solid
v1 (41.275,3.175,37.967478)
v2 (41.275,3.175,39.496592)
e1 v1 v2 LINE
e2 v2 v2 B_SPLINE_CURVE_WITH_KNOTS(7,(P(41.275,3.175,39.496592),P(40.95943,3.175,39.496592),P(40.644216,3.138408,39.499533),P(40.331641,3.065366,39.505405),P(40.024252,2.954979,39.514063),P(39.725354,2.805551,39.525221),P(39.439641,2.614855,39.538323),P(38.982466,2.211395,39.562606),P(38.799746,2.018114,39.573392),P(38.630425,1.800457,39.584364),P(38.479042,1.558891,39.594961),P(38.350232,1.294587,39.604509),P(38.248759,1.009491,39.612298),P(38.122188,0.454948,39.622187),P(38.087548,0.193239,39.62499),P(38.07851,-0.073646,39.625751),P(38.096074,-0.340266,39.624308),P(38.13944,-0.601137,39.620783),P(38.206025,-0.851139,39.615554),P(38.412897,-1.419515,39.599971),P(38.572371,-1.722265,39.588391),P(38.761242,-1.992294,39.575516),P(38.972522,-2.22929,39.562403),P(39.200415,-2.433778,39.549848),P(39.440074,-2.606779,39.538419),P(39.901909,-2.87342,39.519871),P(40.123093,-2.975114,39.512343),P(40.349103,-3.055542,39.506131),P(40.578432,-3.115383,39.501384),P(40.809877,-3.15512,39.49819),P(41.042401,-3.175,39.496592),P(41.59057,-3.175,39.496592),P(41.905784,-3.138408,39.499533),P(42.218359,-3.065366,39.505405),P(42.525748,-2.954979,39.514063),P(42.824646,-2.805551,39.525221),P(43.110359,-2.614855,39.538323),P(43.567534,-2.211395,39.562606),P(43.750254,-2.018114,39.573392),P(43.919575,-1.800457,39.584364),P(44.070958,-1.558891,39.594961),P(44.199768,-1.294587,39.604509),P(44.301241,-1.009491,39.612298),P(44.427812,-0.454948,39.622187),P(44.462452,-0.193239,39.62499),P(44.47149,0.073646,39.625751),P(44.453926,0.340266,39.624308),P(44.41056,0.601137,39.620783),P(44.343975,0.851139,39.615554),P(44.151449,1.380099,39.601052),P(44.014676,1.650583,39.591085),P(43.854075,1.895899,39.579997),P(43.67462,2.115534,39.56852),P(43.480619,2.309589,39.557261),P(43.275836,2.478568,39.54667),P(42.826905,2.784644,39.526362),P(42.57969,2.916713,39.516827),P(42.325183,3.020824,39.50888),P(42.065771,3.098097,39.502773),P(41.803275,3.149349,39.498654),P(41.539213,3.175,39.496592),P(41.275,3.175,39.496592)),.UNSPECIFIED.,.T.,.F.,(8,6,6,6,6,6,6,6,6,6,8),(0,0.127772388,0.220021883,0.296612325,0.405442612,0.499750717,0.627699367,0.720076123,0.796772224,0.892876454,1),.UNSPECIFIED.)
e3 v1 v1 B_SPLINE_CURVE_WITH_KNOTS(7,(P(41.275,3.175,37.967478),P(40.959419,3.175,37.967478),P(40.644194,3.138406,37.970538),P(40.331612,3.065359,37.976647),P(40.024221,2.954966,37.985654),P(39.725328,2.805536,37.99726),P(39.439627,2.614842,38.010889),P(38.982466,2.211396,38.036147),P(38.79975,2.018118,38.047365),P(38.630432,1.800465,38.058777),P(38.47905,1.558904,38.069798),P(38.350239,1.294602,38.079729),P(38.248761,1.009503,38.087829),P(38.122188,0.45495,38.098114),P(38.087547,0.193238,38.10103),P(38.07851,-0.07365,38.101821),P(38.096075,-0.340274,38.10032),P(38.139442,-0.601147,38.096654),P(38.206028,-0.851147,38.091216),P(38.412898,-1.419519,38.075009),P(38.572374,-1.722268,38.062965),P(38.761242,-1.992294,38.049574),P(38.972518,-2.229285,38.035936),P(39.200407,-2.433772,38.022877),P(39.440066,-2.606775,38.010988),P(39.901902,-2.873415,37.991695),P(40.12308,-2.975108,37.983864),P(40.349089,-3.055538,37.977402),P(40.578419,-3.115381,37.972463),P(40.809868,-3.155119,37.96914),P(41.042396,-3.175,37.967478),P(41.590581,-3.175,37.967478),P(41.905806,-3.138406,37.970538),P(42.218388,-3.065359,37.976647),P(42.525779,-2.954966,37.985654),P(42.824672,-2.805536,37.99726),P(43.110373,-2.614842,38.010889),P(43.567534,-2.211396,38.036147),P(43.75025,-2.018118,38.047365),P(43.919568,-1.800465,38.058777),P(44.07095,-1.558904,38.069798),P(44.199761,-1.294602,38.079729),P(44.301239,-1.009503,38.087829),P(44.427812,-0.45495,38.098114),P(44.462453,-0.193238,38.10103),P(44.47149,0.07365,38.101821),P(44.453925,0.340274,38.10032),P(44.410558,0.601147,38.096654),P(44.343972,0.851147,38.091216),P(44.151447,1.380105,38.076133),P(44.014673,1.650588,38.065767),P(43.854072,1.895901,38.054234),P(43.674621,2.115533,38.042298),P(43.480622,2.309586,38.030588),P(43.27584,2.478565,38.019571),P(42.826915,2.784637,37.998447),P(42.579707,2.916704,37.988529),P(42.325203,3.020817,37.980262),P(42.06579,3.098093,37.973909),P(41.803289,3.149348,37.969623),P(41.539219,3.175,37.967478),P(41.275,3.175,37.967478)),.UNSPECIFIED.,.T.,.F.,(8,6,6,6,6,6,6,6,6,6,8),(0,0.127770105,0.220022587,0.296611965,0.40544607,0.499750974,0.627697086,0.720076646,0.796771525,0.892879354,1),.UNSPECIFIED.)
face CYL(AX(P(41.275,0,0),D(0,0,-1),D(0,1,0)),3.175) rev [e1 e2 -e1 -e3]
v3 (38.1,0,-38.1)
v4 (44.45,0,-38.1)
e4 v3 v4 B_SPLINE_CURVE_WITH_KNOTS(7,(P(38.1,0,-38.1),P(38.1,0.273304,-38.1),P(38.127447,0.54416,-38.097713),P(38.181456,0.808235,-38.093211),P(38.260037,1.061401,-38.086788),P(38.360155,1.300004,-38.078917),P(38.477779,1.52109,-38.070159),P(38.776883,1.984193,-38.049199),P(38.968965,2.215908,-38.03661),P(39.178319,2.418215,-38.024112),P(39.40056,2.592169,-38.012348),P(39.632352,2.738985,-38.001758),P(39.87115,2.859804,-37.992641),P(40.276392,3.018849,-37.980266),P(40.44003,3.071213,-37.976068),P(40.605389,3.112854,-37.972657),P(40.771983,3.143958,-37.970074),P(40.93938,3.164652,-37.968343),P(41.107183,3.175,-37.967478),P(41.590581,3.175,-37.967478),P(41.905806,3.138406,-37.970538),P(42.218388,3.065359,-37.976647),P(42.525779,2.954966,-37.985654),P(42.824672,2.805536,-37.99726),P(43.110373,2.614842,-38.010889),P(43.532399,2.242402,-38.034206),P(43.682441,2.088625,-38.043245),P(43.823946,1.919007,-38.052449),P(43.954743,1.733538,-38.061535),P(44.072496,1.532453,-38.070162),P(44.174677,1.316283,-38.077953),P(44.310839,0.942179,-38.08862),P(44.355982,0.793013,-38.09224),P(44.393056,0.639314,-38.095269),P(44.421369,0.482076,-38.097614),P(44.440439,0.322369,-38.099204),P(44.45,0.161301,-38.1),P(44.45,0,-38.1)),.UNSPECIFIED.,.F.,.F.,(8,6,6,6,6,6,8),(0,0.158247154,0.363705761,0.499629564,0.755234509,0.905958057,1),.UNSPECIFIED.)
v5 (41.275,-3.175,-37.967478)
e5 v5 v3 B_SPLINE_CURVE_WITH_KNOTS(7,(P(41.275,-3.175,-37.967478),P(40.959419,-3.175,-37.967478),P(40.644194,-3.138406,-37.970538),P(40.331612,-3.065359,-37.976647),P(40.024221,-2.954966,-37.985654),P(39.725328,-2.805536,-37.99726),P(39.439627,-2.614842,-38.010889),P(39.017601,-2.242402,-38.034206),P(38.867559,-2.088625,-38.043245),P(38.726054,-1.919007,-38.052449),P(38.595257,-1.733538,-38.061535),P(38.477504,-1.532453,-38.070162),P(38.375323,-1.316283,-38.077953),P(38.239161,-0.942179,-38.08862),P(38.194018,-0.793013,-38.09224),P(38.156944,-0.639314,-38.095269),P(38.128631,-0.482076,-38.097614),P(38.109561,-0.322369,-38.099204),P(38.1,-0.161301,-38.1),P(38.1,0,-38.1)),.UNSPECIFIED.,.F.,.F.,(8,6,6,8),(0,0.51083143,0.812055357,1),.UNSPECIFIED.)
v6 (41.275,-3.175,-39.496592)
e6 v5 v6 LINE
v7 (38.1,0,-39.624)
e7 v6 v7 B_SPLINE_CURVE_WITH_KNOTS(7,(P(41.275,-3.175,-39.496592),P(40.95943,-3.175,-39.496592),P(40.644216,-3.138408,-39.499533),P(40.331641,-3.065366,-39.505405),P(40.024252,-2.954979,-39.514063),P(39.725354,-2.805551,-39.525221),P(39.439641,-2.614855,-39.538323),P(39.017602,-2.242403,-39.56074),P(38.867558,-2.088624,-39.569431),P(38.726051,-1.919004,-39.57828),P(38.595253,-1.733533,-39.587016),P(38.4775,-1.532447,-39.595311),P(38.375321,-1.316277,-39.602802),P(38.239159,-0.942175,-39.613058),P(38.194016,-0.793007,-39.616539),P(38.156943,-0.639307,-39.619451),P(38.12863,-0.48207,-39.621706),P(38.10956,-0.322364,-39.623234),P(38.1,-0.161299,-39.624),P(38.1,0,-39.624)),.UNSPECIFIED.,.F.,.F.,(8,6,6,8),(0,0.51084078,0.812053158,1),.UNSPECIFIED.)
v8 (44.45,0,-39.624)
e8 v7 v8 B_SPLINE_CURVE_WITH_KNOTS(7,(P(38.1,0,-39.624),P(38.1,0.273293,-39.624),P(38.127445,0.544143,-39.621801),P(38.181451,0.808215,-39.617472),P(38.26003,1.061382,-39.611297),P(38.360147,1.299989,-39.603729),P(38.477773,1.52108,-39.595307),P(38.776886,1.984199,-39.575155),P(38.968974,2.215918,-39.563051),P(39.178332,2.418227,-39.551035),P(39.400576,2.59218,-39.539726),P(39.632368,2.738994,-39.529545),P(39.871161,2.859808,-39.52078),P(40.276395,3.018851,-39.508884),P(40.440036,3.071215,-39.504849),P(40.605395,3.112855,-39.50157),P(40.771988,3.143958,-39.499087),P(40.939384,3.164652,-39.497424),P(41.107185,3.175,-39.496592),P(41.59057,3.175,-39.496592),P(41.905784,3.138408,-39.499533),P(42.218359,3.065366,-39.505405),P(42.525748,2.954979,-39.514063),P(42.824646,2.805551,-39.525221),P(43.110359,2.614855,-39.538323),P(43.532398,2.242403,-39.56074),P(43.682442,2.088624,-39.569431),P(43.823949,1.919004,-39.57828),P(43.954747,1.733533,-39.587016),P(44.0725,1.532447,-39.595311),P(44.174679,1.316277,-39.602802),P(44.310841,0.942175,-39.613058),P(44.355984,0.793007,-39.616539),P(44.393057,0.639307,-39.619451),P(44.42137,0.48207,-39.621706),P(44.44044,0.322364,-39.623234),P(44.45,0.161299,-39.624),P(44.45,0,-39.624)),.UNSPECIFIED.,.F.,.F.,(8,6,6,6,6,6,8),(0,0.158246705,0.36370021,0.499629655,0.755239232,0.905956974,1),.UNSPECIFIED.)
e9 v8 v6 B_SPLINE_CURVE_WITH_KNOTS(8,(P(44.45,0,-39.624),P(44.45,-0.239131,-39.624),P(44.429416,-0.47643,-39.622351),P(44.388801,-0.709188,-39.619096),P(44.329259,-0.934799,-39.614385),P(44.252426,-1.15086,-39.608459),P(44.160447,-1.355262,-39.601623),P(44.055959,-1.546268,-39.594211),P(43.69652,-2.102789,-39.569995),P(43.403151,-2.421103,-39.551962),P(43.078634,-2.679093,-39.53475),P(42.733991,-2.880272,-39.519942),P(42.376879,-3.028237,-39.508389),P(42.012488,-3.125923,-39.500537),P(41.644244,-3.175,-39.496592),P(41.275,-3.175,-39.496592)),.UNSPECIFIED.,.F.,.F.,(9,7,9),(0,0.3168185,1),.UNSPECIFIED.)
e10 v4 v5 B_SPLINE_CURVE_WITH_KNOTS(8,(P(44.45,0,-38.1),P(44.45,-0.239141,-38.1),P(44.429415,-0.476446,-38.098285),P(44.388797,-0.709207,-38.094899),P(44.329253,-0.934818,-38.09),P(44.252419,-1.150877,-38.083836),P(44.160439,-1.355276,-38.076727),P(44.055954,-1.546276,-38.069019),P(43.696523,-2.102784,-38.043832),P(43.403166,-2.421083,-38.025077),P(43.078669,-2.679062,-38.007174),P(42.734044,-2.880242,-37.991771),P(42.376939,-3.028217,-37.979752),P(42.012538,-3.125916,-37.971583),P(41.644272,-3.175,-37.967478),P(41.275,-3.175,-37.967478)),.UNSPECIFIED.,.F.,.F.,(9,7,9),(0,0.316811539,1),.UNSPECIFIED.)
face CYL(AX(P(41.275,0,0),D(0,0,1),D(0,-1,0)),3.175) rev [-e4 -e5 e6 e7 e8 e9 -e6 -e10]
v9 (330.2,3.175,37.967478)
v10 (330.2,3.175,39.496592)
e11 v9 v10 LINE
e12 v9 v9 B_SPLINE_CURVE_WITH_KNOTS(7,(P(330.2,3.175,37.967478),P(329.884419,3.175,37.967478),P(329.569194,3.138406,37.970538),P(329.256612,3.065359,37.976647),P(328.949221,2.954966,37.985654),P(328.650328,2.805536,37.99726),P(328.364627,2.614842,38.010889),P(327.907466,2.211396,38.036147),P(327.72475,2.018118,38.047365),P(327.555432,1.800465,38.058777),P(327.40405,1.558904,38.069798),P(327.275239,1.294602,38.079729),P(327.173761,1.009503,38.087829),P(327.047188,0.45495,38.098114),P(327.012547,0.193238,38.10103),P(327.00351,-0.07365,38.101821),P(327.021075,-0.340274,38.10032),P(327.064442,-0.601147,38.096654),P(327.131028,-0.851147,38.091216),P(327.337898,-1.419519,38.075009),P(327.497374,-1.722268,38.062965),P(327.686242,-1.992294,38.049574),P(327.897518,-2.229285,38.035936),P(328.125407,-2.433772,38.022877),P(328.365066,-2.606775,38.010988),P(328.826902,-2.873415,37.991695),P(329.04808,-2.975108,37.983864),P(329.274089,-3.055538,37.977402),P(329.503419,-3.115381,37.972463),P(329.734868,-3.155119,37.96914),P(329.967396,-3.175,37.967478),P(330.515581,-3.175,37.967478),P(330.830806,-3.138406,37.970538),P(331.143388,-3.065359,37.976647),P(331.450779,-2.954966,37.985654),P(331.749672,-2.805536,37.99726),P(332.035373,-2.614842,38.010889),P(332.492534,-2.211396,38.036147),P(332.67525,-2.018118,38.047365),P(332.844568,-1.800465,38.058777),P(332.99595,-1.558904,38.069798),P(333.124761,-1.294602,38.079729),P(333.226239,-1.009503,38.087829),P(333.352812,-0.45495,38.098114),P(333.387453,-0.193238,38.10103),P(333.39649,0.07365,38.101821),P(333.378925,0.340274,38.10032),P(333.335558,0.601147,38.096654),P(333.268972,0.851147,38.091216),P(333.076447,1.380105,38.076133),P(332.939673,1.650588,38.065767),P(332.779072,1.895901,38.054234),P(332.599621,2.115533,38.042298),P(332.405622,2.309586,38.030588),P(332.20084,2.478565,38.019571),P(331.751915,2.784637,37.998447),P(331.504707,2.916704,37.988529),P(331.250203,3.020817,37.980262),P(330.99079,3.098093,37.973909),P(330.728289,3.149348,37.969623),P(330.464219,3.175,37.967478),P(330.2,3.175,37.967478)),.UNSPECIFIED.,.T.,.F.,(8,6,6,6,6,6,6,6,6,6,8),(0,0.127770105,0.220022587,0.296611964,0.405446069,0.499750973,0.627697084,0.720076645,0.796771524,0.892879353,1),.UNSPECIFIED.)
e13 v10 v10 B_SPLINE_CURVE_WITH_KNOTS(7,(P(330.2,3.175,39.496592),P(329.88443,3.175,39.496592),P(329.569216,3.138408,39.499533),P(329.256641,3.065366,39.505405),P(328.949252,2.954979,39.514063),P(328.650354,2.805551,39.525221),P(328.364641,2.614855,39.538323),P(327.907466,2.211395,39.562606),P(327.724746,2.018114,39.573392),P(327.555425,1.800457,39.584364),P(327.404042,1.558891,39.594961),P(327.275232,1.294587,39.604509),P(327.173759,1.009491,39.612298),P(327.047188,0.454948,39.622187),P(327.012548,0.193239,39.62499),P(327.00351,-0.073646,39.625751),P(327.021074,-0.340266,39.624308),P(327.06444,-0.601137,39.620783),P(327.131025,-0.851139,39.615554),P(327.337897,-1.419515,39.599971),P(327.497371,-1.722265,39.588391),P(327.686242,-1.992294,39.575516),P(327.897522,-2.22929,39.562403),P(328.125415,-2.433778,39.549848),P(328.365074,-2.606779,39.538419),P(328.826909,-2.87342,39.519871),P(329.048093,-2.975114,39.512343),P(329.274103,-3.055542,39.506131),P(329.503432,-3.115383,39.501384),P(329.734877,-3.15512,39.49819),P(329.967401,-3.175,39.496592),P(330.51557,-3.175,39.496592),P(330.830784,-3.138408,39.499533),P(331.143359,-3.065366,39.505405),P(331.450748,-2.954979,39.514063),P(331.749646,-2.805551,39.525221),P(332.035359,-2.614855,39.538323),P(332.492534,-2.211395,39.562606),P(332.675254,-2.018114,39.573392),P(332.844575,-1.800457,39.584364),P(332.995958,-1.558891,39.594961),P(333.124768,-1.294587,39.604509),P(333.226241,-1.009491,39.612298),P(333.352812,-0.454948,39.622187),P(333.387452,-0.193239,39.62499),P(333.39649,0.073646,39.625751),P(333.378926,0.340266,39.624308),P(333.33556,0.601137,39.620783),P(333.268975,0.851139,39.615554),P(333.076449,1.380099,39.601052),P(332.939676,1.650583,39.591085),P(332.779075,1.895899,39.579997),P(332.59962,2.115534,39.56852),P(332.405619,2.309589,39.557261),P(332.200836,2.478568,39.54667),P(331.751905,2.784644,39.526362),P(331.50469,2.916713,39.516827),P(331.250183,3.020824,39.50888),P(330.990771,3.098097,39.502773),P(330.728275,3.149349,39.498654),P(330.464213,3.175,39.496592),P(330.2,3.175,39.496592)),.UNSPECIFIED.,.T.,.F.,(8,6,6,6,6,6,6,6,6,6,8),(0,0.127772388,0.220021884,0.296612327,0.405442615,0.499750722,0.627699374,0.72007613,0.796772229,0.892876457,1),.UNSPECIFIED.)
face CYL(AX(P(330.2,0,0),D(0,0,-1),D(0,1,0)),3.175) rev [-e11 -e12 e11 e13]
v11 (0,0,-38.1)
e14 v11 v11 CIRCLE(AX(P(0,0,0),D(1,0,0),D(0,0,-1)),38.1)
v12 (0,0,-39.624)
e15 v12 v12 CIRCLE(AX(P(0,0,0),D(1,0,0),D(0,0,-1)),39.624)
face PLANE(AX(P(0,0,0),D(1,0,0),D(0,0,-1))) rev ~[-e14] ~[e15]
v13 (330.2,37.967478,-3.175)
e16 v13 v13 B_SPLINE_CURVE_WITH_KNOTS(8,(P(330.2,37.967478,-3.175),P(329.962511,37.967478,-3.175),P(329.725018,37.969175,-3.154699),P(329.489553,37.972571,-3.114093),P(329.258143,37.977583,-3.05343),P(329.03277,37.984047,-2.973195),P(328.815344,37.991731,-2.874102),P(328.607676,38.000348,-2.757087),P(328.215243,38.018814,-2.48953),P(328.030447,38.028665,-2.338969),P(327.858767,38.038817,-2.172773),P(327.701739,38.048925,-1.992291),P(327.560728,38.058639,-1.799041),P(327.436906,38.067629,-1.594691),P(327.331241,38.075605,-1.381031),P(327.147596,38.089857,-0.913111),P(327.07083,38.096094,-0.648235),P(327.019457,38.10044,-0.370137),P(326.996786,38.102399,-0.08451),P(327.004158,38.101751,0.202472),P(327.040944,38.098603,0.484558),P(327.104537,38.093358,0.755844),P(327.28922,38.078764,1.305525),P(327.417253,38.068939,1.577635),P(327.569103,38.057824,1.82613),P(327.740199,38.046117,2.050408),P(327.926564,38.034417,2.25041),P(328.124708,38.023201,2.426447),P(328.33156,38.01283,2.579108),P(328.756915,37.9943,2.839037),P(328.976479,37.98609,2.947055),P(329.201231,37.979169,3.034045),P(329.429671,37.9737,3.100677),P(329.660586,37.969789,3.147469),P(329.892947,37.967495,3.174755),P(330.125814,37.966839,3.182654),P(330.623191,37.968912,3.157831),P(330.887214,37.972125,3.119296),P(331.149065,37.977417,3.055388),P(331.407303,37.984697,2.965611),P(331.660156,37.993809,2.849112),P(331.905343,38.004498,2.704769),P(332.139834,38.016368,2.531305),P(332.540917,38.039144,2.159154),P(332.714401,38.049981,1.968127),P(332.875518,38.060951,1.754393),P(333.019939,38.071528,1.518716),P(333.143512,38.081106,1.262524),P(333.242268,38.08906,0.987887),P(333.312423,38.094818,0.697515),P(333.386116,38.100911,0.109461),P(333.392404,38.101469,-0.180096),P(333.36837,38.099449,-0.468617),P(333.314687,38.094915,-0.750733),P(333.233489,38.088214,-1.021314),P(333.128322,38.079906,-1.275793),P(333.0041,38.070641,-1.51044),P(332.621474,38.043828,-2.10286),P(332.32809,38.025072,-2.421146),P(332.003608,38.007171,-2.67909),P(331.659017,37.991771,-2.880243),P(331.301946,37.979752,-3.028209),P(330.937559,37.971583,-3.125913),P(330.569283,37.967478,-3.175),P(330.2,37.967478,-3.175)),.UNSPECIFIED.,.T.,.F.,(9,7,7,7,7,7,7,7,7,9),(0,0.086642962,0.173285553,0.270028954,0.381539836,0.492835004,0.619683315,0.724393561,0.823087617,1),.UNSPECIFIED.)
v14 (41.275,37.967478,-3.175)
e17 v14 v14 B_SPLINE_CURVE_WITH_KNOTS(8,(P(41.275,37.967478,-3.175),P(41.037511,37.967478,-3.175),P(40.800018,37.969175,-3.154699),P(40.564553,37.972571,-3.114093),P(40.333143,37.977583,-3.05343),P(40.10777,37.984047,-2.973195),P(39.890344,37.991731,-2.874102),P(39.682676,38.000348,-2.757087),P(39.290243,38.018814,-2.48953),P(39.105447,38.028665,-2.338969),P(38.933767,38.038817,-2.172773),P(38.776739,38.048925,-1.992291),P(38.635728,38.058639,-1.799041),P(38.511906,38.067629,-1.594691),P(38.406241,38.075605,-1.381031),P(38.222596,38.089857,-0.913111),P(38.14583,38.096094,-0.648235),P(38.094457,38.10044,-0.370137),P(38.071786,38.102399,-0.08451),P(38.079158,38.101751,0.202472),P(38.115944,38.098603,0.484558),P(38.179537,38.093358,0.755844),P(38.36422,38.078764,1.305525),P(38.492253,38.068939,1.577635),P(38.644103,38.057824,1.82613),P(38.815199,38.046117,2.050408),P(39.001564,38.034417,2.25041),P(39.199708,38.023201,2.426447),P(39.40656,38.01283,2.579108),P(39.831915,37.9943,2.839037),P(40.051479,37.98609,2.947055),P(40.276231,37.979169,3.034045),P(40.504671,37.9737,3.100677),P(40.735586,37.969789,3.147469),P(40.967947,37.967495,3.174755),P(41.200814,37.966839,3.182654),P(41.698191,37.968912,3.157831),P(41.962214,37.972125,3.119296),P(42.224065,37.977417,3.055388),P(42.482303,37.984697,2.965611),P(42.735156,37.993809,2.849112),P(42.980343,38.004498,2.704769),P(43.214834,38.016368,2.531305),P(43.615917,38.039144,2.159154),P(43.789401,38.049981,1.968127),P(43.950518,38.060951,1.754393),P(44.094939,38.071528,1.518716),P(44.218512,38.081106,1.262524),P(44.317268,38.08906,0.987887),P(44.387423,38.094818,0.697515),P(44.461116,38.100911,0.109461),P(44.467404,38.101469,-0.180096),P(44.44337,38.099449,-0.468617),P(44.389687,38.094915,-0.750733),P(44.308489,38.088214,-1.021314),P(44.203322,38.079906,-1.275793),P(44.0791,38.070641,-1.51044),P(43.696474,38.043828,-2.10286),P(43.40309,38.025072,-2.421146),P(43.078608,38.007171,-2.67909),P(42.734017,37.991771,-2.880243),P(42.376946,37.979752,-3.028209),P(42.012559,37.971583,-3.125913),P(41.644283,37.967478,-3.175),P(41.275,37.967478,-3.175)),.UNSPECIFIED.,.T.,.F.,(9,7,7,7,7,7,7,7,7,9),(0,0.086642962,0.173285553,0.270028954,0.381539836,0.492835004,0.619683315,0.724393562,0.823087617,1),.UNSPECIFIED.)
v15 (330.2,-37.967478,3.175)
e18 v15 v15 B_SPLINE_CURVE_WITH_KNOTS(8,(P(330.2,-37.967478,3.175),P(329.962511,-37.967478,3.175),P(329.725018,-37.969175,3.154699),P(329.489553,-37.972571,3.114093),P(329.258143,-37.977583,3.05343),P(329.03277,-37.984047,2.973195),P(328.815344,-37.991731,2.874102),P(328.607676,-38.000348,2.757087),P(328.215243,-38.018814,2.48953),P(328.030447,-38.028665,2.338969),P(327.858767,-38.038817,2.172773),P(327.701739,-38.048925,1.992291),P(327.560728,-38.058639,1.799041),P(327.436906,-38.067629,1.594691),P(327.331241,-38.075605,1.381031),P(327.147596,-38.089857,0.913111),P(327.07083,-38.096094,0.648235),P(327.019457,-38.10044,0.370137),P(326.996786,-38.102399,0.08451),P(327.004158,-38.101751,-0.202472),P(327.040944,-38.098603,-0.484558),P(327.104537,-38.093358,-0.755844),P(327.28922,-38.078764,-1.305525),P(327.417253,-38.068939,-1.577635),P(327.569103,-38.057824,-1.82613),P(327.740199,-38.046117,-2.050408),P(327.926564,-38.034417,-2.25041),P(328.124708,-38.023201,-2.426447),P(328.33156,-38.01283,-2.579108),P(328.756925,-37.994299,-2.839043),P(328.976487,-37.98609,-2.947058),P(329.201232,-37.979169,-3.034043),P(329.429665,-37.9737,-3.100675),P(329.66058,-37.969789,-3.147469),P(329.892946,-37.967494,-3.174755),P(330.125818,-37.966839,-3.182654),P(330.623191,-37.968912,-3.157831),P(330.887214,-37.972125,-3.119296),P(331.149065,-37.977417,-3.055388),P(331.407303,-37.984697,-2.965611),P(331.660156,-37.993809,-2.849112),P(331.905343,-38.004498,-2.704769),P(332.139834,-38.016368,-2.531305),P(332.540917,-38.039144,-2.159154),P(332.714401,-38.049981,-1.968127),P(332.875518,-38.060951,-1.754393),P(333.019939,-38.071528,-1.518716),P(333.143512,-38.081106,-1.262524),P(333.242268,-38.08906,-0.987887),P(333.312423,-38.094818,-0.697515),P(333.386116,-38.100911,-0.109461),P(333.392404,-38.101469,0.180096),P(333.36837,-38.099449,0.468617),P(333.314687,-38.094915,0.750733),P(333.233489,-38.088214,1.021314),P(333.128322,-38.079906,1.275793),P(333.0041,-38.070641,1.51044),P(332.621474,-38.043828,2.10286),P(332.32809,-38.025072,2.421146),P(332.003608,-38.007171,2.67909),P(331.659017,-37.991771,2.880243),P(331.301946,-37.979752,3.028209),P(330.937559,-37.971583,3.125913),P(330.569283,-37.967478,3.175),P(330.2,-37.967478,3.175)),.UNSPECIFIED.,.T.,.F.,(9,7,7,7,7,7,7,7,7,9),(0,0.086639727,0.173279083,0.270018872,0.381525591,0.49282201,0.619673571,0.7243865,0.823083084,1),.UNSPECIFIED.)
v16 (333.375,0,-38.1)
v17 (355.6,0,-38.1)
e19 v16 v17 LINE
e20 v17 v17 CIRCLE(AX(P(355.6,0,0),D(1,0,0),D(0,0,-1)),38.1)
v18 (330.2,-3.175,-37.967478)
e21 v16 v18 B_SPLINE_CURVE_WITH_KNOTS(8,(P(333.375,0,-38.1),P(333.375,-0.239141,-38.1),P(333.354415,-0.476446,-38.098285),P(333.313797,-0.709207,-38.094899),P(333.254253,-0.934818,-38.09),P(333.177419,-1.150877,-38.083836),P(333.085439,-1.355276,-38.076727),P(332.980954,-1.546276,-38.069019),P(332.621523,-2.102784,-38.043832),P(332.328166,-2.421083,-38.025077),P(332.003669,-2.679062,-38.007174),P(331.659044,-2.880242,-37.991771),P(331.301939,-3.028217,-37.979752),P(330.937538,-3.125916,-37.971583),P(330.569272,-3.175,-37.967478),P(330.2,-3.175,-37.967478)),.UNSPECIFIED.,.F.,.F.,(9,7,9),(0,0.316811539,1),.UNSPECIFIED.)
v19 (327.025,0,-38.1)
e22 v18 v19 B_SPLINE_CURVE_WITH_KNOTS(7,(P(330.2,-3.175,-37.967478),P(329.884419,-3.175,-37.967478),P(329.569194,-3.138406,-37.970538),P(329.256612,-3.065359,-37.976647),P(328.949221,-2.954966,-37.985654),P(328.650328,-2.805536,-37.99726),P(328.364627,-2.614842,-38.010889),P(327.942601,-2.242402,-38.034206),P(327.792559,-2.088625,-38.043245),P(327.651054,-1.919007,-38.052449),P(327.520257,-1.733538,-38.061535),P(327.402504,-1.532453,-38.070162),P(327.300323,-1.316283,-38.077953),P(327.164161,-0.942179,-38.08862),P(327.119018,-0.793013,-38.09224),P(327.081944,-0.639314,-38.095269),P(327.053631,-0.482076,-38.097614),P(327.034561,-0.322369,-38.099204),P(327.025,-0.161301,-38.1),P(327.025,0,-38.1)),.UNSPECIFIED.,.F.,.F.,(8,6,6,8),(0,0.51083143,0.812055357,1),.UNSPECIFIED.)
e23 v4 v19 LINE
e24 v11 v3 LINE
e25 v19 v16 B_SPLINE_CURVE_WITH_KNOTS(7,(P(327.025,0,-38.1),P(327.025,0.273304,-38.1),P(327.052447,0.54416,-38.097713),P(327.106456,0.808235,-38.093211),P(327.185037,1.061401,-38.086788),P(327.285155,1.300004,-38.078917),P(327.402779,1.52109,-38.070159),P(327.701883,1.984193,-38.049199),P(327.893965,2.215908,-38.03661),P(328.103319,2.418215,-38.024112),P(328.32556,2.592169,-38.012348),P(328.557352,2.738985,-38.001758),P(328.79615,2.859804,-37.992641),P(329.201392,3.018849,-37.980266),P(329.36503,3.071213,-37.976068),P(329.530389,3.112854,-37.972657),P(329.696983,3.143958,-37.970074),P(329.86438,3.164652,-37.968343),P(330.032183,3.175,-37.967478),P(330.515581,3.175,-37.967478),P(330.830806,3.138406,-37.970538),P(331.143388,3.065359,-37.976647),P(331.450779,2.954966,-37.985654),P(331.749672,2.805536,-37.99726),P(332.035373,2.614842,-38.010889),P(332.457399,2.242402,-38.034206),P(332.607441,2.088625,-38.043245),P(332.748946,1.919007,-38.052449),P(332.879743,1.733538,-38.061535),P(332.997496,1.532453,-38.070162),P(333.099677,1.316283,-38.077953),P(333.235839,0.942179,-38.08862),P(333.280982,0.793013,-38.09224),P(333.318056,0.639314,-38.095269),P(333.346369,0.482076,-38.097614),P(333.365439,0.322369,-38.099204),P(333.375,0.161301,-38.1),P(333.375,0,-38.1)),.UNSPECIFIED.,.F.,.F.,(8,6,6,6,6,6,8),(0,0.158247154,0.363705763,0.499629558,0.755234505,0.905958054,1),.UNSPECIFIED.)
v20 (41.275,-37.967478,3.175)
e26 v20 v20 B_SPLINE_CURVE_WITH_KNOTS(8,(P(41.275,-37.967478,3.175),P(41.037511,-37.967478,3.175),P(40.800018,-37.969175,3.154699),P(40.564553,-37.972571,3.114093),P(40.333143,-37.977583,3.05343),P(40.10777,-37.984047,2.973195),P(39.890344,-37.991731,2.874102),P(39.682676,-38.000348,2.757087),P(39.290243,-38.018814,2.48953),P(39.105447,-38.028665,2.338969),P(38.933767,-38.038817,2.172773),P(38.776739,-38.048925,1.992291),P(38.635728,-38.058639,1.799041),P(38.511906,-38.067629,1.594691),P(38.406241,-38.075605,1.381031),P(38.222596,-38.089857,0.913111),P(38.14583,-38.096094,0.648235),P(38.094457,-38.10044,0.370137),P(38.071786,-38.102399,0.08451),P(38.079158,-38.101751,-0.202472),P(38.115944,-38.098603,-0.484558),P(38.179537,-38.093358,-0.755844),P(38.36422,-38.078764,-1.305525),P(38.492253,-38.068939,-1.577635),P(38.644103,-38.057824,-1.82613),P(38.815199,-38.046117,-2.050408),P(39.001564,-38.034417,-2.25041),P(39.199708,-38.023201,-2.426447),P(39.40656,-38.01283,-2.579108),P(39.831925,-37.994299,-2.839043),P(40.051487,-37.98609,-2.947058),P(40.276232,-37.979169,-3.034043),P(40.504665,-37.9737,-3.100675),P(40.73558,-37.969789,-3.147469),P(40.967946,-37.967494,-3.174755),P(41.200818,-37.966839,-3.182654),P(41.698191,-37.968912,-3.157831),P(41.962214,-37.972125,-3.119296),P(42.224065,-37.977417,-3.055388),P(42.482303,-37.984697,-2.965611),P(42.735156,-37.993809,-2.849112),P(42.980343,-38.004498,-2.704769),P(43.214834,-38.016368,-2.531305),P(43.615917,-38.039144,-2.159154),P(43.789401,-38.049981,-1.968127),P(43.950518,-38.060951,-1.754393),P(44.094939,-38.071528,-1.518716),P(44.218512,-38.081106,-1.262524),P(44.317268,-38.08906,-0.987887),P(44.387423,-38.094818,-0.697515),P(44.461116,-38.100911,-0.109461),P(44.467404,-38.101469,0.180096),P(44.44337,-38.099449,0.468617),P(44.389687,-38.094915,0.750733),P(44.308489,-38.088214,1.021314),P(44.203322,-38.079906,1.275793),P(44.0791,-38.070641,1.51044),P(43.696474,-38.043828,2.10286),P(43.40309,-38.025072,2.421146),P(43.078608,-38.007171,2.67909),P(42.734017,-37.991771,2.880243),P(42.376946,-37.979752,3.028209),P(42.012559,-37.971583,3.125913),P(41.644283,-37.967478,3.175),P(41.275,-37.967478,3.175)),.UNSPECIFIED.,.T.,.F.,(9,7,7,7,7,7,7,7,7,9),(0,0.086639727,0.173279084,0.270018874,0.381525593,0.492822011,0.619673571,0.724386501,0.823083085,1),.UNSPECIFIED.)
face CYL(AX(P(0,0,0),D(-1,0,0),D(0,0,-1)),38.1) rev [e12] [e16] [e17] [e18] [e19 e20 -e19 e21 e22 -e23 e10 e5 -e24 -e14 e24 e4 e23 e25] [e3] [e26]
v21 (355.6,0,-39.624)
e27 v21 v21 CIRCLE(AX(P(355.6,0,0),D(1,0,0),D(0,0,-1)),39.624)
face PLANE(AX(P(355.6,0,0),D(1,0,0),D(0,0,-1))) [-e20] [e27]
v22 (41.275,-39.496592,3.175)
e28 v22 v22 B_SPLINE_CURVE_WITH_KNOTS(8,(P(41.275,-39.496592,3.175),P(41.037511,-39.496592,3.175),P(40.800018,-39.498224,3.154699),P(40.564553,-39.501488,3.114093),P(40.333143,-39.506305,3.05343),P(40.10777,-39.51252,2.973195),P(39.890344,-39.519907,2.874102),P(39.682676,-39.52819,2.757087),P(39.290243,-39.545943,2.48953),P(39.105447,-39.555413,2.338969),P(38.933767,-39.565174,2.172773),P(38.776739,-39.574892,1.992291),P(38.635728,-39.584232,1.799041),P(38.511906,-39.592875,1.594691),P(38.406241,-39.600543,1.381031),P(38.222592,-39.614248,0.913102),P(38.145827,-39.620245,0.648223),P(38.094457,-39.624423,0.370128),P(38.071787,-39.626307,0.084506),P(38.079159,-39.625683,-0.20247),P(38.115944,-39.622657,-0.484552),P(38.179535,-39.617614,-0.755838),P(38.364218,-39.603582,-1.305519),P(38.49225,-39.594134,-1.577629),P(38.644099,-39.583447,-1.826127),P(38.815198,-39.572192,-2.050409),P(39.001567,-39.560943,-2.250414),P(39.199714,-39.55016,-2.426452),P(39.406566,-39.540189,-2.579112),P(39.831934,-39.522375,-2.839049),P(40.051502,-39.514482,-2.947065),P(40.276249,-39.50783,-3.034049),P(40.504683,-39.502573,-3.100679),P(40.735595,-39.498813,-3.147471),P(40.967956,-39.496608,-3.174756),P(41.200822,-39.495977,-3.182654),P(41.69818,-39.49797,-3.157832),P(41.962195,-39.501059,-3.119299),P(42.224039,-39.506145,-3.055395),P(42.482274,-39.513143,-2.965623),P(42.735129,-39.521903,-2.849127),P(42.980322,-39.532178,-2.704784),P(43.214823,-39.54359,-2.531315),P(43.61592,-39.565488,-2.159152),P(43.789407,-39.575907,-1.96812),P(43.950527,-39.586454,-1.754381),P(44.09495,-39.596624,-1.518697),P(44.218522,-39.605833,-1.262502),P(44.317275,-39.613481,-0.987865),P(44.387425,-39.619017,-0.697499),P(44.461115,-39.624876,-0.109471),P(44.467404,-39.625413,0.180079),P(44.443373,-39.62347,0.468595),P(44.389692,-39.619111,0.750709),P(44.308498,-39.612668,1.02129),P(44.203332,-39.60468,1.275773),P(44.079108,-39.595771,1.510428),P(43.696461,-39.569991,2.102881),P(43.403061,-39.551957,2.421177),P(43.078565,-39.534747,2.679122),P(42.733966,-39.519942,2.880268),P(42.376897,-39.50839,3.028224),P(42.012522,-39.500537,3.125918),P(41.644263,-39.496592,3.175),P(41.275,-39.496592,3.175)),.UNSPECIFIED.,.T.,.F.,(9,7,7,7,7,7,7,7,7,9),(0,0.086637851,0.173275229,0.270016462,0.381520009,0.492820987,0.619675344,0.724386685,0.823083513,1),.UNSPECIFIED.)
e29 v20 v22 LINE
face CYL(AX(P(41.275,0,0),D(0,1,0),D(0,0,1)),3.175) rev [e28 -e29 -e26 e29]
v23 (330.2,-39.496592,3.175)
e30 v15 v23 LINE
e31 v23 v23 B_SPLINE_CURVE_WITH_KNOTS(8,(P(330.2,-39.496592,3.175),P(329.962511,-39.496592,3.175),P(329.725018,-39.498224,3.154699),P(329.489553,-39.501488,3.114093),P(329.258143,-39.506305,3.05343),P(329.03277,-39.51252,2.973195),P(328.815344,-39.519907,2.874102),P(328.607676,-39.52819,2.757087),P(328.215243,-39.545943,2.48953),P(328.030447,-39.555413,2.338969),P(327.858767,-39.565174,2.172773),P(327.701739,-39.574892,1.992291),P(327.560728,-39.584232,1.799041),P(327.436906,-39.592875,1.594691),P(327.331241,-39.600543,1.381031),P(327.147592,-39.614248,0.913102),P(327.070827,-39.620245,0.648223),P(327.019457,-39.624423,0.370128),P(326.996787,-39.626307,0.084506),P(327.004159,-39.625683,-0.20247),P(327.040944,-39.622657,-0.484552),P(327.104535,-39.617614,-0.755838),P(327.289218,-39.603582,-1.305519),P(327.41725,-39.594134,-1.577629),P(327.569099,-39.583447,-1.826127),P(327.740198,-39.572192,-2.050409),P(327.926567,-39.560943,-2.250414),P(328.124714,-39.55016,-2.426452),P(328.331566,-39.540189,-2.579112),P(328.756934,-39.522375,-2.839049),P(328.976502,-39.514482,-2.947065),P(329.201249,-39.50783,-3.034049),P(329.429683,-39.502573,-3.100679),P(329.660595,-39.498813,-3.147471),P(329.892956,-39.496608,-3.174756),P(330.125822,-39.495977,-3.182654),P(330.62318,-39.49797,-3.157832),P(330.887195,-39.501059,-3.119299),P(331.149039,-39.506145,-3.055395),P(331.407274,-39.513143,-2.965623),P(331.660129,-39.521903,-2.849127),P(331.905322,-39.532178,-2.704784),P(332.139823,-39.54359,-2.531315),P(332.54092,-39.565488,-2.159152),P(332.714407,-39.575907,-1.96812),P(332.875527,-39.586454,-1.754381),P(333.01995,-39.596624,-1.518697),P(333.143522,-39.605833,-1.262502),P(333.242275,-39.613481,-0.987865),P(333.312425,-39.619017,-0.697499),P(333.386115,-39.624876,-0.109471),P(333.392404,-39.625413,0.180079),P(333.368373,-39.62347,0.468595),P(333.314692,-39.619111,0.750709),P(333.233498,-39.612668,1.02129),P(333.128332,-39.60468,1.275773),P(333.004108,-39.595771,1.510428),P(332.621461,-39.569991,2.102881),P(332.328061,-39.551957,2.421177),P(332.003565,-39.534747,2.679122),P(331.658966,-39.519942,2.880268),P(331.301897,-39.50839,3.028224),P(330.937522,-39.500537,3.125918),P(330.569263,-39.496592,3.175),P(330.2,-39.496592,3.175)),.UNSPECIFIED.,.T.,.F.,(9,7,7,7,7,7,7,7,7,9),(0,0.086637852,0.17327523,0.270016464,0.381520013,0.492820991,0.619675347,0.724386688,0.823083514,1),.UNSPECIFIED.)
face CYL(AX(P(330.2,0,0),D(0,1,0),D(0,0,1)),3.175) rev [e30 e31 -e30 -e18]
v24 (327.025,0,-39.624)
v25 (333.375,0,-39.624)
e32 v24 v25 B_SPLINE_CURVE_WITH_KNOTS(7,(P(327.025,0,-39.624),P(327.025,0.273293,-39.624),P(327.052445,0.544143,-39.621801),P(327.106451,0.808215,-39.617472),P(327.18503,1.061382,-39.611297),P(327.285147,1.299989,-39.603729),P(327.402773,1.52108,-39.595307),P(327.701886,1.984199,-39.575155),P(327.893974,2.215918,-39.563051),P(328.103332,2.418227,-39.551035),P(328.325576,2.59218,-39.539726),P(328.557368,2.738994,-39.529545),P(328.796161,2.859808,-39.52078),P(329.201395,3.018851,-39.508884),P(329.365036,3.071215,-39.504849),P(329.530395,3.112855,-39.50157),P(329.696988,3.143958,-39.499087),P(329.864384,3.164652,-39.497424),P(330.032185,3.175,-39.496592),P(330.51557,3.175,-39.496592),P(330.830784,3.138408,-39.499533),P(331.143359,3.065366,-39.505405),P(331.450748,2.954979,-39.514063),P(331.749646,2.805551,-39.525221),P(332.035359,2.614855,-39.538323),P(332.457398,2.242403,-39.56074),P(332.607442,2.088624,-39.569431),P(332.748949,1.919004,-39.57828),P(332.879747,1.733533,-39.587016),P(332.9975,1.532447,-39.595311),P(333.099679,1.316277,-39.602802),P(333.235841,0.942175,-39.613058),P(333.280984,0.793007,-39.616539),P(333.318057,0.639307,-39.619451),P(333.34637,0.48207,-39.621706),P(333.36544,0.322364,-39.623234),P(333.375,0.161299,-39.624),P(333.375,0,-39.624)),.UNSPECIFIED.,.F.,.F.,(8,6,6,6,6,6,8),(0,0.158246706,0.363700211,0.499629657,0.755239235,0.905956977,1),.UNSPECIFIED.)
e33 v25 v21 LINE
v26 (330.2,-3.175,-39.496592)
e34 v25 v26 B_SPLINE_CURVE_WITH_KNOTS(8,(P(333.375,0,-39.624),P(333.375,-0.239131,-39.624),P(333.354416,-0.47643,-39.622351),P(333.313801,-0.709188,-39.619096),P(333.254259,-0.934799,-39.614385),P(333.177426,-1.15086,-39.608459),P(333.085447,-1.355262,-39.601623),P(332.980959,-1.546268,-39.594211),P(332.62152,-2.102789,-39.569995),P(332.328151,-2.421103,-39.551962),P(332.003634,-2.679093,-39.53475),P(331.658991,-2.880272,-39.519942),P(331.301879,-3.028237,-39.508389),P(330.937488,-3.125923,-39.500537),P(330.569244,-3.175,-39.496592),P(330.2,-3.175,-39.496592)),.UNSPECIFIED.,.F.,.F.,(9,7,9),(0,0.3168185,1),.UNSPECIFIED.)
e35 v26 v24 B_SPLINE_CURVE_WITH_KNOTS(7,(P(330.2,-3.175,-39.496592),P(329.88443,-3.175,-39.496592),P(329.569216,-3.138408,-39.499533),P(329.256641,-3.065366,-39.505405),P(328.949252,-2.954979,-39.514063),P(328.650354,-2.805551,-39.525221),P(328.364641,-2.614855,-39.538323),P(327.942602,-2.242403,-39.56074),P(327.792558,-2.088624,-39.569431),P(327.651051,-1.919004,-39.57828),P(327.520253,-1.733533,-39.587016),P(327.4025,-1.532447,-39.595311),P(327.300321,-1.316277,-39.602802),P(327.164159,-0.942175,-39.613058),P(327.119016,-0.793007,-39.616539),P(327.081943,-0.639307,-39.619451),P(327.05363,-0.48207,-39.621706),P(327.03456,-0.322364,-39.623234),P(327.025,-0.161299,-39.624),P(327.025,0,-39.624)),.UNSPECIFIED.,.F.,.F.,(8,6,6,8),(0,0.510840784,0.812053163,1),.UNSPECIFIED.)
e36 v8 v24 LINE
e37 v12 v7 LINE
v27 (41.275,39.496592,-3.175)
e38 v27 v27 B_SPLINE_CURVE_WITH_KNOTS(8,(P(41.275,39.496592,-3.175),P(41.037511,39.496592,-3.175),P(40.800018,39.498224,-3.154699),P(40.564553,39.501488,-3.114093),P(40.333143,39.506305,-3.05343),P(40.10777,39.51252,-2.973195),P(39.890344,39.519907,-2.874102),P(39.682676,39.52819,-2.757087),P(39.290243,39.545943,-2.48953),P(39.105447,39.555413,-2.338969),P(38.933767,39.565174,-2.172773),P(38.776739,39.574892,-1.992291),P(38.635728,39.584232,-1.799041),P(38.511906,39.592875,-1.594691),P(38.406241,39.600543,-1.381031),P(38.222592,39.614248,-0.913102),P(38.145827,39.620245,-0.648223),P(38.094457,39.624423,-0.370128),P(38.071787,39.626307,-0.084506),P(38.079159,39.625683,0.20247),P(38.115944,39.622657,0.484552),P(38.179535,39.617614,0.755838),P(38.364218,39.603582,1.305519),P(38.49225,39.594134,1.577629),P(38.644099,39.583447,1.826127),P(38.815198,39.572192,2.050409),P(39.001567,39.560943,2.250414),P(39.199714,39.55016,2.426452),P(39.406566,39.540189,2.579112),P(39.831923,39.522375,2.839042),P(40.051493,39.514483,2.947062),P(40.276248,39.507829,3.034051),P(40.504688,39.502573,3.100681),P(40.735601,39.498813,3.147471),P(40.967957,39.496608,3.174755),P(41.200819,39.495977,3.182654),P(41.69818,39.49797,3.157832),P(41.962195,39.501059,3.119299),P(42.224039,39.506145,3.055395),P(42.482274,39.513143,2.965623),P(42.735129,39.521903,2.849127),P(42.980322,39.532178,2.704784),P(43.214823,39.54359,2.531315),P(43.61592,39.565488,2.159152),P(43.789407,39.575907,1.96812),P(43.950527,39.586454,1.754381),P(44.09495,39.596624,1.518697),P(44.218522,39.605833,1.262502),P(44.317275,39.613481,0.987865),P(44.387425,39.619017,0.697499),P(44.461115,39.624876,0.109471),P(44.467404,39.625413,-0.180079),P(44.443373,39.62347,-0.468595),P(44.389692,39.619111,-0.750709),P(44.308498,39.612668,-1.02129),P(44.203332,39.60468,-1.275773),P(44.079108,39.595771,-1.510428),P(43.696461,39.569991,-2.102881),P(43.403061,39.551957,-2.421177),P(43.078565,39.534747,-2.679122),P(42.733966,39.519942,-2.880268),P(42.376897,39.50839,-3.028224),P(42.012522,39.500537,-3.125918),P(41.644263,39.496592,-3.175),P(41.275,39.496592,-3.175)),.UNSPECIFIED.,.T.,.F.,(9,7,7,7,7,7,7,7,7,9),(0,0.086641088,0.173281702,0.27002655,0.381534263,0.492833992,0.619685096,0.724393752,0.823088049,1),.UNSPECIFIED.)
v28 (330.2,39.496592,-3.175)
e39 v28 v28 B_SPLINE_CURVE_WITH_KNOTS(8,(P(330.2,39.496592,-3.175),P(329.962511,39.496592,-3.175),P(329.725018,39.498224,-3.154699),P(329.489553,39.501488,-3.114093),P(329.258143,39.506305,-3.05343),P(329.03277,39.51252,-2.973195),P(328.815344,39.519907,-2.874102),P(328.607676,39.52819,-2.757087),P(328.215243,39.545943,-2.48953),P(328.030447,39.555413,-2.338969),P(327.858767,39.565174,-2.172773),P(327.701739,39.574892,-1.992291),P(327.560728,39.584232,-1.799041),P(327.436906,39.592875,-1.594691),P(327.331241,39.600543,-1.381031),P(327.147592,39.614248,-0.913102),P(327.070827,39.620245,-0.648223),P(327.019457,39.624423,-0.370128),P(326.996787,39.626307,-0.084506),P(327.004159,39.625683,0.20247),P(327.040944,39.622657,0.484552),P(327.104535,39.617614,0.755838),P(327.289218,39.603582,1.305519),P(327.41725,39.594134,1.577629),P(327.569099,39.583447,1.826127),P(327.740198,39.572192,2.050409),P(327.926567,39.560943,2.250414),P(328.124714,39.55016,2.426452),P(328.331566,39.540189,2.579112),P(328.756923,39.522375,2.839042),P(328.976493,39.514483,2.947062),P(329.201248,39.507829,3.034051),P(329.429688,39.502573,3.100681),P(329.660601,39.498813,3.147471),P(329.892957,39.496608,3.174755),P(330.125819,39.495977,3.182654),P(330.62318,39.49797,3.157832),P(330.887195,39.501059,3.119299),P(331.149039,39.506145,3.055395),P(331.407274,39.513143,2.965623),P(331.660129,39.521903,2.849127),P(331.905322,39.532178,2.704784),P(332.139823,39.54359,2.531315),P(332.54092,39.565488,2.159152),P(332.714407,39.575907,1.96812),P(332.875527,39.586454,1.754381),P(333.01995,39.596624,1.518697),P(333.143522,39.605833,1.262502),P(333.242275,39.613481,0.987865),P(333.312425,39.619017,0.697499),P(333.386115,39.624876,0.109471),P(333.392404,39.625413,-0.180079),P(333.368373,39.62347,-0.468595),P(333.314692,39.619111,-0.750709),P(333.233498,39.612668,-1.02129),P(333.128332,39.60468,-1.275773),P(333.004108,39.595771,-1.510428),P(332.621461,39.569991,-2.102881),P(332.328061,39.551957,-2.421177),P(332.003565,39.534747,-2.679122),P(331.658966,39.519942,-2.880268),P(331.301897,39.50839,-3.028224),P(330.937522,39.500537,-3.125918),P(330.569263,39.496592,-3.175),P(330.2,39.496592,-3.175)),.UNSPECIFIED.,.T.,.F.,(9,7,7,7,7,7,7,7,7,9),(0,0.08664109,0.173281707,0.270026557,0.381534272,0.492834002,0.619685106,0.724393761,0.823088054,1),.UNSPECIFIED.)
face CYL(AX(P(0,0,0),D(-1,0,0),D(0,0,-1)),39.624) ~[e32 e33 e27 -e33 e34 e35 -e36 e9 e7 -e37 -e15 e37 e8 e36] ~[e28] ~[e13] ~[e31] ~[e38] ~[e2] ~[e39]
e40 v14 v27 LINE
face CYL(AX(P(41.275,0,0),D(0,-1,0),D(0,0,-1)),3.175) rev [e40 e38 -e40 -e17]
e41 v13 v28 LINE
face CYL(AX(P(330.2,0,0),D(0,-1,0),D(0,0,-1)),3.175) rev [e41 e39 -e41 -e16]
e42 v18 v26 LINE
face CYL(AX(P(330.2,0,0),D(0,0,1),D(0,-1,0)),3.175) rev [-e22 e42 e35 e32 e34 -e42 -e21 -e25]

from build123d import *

# Parameters (mm, degrees)
SKETCH1_R           = 39.624
SKETCH1_R_2         = 38.1
BOSS_EXTRUDE1_DEPTH = 355.6
SKETCH2_R           = 3.175
CUT_EXTRUDE1_DEPTH  = 360.988170295
CIRPATTERN1_COUNT   = 4
SKETCH3_R           = 3.175
CUT_EXTRUDE2_DEPTH  = 360.988170415
CIRPATTERN2_COUNT   = 4


with BuildPart() as part:
    # Sketch1 → Boss-Extrude1 (new body)
    with BuildSketch(Plane.YZ):
        with Locations(Location((0, 0, 0), (0, 0, 270))):
            Circle(SKETCH1_R)
        with Locations(Location((0, 0, 0), (0, 0, 270))):
            Circle(SKETCH1_R_2, mode=Mode.SUBTRACT)
    extrude(amount=BOSS_EXTRUDE1_DEPTH)

    # Sketch2 → Cut-Extrude1 (cut, through all)
    with BuildSketch(Plane(origin=(0, 0, 0), x_dir=(-1, 0, 0), z_dir=(0, 1, 0))):
        with Locations(Location((-330.2, 0, 0), (0, 0, 270))):
            Circle(SKETCH2_R)
    cut_extrude1 = extrude(amount=CUT_EXTRUDE1_DEPTH, mode=Mode.SUBTRACT)

    # CirPattern1: Cut-Extrude1 ×4 about axis
    cirpattern1_axis = Axis((355.6, 0, 0), (-1, 0, 0))
    for i in range(1, CIRPATTERN1_COUNT):
        add(cut_extrude1.rotate(cirpattern1_axis, i * 360 / CIRPATTERN1_COUNT), mode=Mode.SUBTRACT)

    # Sketch3 → Cut-Extrude2 (cut, through all)
    with BuildSketch(Plane(origin=(0, 0, 0), x_dir=(-1, 0, 0), z_dir=(0, 1, 0))):
        with Locations(Location((-41.275, 0, 0), (0, 0, 270))):
            Circle(SKETCH3_R)
    cut_extrude2 = extrude(amount=CUT_EXTRUDE2_DEPTH, mode=Mode.SUBTRACT)

    # CirPattern2: Cut-Extrude2 ×4 about axis
    cirpattern2_axis = Axis((355.6, 0, 0), (-1, 0, 0))
    for i in range(1, CIRPATTERN2_COUNT):
        add(cut_extrude2.rotate(cirpattern2_axis, i * 360 / CIRPATTERN2_COUNT), mode=Mode.SUBTRACT)


solid = part.part
